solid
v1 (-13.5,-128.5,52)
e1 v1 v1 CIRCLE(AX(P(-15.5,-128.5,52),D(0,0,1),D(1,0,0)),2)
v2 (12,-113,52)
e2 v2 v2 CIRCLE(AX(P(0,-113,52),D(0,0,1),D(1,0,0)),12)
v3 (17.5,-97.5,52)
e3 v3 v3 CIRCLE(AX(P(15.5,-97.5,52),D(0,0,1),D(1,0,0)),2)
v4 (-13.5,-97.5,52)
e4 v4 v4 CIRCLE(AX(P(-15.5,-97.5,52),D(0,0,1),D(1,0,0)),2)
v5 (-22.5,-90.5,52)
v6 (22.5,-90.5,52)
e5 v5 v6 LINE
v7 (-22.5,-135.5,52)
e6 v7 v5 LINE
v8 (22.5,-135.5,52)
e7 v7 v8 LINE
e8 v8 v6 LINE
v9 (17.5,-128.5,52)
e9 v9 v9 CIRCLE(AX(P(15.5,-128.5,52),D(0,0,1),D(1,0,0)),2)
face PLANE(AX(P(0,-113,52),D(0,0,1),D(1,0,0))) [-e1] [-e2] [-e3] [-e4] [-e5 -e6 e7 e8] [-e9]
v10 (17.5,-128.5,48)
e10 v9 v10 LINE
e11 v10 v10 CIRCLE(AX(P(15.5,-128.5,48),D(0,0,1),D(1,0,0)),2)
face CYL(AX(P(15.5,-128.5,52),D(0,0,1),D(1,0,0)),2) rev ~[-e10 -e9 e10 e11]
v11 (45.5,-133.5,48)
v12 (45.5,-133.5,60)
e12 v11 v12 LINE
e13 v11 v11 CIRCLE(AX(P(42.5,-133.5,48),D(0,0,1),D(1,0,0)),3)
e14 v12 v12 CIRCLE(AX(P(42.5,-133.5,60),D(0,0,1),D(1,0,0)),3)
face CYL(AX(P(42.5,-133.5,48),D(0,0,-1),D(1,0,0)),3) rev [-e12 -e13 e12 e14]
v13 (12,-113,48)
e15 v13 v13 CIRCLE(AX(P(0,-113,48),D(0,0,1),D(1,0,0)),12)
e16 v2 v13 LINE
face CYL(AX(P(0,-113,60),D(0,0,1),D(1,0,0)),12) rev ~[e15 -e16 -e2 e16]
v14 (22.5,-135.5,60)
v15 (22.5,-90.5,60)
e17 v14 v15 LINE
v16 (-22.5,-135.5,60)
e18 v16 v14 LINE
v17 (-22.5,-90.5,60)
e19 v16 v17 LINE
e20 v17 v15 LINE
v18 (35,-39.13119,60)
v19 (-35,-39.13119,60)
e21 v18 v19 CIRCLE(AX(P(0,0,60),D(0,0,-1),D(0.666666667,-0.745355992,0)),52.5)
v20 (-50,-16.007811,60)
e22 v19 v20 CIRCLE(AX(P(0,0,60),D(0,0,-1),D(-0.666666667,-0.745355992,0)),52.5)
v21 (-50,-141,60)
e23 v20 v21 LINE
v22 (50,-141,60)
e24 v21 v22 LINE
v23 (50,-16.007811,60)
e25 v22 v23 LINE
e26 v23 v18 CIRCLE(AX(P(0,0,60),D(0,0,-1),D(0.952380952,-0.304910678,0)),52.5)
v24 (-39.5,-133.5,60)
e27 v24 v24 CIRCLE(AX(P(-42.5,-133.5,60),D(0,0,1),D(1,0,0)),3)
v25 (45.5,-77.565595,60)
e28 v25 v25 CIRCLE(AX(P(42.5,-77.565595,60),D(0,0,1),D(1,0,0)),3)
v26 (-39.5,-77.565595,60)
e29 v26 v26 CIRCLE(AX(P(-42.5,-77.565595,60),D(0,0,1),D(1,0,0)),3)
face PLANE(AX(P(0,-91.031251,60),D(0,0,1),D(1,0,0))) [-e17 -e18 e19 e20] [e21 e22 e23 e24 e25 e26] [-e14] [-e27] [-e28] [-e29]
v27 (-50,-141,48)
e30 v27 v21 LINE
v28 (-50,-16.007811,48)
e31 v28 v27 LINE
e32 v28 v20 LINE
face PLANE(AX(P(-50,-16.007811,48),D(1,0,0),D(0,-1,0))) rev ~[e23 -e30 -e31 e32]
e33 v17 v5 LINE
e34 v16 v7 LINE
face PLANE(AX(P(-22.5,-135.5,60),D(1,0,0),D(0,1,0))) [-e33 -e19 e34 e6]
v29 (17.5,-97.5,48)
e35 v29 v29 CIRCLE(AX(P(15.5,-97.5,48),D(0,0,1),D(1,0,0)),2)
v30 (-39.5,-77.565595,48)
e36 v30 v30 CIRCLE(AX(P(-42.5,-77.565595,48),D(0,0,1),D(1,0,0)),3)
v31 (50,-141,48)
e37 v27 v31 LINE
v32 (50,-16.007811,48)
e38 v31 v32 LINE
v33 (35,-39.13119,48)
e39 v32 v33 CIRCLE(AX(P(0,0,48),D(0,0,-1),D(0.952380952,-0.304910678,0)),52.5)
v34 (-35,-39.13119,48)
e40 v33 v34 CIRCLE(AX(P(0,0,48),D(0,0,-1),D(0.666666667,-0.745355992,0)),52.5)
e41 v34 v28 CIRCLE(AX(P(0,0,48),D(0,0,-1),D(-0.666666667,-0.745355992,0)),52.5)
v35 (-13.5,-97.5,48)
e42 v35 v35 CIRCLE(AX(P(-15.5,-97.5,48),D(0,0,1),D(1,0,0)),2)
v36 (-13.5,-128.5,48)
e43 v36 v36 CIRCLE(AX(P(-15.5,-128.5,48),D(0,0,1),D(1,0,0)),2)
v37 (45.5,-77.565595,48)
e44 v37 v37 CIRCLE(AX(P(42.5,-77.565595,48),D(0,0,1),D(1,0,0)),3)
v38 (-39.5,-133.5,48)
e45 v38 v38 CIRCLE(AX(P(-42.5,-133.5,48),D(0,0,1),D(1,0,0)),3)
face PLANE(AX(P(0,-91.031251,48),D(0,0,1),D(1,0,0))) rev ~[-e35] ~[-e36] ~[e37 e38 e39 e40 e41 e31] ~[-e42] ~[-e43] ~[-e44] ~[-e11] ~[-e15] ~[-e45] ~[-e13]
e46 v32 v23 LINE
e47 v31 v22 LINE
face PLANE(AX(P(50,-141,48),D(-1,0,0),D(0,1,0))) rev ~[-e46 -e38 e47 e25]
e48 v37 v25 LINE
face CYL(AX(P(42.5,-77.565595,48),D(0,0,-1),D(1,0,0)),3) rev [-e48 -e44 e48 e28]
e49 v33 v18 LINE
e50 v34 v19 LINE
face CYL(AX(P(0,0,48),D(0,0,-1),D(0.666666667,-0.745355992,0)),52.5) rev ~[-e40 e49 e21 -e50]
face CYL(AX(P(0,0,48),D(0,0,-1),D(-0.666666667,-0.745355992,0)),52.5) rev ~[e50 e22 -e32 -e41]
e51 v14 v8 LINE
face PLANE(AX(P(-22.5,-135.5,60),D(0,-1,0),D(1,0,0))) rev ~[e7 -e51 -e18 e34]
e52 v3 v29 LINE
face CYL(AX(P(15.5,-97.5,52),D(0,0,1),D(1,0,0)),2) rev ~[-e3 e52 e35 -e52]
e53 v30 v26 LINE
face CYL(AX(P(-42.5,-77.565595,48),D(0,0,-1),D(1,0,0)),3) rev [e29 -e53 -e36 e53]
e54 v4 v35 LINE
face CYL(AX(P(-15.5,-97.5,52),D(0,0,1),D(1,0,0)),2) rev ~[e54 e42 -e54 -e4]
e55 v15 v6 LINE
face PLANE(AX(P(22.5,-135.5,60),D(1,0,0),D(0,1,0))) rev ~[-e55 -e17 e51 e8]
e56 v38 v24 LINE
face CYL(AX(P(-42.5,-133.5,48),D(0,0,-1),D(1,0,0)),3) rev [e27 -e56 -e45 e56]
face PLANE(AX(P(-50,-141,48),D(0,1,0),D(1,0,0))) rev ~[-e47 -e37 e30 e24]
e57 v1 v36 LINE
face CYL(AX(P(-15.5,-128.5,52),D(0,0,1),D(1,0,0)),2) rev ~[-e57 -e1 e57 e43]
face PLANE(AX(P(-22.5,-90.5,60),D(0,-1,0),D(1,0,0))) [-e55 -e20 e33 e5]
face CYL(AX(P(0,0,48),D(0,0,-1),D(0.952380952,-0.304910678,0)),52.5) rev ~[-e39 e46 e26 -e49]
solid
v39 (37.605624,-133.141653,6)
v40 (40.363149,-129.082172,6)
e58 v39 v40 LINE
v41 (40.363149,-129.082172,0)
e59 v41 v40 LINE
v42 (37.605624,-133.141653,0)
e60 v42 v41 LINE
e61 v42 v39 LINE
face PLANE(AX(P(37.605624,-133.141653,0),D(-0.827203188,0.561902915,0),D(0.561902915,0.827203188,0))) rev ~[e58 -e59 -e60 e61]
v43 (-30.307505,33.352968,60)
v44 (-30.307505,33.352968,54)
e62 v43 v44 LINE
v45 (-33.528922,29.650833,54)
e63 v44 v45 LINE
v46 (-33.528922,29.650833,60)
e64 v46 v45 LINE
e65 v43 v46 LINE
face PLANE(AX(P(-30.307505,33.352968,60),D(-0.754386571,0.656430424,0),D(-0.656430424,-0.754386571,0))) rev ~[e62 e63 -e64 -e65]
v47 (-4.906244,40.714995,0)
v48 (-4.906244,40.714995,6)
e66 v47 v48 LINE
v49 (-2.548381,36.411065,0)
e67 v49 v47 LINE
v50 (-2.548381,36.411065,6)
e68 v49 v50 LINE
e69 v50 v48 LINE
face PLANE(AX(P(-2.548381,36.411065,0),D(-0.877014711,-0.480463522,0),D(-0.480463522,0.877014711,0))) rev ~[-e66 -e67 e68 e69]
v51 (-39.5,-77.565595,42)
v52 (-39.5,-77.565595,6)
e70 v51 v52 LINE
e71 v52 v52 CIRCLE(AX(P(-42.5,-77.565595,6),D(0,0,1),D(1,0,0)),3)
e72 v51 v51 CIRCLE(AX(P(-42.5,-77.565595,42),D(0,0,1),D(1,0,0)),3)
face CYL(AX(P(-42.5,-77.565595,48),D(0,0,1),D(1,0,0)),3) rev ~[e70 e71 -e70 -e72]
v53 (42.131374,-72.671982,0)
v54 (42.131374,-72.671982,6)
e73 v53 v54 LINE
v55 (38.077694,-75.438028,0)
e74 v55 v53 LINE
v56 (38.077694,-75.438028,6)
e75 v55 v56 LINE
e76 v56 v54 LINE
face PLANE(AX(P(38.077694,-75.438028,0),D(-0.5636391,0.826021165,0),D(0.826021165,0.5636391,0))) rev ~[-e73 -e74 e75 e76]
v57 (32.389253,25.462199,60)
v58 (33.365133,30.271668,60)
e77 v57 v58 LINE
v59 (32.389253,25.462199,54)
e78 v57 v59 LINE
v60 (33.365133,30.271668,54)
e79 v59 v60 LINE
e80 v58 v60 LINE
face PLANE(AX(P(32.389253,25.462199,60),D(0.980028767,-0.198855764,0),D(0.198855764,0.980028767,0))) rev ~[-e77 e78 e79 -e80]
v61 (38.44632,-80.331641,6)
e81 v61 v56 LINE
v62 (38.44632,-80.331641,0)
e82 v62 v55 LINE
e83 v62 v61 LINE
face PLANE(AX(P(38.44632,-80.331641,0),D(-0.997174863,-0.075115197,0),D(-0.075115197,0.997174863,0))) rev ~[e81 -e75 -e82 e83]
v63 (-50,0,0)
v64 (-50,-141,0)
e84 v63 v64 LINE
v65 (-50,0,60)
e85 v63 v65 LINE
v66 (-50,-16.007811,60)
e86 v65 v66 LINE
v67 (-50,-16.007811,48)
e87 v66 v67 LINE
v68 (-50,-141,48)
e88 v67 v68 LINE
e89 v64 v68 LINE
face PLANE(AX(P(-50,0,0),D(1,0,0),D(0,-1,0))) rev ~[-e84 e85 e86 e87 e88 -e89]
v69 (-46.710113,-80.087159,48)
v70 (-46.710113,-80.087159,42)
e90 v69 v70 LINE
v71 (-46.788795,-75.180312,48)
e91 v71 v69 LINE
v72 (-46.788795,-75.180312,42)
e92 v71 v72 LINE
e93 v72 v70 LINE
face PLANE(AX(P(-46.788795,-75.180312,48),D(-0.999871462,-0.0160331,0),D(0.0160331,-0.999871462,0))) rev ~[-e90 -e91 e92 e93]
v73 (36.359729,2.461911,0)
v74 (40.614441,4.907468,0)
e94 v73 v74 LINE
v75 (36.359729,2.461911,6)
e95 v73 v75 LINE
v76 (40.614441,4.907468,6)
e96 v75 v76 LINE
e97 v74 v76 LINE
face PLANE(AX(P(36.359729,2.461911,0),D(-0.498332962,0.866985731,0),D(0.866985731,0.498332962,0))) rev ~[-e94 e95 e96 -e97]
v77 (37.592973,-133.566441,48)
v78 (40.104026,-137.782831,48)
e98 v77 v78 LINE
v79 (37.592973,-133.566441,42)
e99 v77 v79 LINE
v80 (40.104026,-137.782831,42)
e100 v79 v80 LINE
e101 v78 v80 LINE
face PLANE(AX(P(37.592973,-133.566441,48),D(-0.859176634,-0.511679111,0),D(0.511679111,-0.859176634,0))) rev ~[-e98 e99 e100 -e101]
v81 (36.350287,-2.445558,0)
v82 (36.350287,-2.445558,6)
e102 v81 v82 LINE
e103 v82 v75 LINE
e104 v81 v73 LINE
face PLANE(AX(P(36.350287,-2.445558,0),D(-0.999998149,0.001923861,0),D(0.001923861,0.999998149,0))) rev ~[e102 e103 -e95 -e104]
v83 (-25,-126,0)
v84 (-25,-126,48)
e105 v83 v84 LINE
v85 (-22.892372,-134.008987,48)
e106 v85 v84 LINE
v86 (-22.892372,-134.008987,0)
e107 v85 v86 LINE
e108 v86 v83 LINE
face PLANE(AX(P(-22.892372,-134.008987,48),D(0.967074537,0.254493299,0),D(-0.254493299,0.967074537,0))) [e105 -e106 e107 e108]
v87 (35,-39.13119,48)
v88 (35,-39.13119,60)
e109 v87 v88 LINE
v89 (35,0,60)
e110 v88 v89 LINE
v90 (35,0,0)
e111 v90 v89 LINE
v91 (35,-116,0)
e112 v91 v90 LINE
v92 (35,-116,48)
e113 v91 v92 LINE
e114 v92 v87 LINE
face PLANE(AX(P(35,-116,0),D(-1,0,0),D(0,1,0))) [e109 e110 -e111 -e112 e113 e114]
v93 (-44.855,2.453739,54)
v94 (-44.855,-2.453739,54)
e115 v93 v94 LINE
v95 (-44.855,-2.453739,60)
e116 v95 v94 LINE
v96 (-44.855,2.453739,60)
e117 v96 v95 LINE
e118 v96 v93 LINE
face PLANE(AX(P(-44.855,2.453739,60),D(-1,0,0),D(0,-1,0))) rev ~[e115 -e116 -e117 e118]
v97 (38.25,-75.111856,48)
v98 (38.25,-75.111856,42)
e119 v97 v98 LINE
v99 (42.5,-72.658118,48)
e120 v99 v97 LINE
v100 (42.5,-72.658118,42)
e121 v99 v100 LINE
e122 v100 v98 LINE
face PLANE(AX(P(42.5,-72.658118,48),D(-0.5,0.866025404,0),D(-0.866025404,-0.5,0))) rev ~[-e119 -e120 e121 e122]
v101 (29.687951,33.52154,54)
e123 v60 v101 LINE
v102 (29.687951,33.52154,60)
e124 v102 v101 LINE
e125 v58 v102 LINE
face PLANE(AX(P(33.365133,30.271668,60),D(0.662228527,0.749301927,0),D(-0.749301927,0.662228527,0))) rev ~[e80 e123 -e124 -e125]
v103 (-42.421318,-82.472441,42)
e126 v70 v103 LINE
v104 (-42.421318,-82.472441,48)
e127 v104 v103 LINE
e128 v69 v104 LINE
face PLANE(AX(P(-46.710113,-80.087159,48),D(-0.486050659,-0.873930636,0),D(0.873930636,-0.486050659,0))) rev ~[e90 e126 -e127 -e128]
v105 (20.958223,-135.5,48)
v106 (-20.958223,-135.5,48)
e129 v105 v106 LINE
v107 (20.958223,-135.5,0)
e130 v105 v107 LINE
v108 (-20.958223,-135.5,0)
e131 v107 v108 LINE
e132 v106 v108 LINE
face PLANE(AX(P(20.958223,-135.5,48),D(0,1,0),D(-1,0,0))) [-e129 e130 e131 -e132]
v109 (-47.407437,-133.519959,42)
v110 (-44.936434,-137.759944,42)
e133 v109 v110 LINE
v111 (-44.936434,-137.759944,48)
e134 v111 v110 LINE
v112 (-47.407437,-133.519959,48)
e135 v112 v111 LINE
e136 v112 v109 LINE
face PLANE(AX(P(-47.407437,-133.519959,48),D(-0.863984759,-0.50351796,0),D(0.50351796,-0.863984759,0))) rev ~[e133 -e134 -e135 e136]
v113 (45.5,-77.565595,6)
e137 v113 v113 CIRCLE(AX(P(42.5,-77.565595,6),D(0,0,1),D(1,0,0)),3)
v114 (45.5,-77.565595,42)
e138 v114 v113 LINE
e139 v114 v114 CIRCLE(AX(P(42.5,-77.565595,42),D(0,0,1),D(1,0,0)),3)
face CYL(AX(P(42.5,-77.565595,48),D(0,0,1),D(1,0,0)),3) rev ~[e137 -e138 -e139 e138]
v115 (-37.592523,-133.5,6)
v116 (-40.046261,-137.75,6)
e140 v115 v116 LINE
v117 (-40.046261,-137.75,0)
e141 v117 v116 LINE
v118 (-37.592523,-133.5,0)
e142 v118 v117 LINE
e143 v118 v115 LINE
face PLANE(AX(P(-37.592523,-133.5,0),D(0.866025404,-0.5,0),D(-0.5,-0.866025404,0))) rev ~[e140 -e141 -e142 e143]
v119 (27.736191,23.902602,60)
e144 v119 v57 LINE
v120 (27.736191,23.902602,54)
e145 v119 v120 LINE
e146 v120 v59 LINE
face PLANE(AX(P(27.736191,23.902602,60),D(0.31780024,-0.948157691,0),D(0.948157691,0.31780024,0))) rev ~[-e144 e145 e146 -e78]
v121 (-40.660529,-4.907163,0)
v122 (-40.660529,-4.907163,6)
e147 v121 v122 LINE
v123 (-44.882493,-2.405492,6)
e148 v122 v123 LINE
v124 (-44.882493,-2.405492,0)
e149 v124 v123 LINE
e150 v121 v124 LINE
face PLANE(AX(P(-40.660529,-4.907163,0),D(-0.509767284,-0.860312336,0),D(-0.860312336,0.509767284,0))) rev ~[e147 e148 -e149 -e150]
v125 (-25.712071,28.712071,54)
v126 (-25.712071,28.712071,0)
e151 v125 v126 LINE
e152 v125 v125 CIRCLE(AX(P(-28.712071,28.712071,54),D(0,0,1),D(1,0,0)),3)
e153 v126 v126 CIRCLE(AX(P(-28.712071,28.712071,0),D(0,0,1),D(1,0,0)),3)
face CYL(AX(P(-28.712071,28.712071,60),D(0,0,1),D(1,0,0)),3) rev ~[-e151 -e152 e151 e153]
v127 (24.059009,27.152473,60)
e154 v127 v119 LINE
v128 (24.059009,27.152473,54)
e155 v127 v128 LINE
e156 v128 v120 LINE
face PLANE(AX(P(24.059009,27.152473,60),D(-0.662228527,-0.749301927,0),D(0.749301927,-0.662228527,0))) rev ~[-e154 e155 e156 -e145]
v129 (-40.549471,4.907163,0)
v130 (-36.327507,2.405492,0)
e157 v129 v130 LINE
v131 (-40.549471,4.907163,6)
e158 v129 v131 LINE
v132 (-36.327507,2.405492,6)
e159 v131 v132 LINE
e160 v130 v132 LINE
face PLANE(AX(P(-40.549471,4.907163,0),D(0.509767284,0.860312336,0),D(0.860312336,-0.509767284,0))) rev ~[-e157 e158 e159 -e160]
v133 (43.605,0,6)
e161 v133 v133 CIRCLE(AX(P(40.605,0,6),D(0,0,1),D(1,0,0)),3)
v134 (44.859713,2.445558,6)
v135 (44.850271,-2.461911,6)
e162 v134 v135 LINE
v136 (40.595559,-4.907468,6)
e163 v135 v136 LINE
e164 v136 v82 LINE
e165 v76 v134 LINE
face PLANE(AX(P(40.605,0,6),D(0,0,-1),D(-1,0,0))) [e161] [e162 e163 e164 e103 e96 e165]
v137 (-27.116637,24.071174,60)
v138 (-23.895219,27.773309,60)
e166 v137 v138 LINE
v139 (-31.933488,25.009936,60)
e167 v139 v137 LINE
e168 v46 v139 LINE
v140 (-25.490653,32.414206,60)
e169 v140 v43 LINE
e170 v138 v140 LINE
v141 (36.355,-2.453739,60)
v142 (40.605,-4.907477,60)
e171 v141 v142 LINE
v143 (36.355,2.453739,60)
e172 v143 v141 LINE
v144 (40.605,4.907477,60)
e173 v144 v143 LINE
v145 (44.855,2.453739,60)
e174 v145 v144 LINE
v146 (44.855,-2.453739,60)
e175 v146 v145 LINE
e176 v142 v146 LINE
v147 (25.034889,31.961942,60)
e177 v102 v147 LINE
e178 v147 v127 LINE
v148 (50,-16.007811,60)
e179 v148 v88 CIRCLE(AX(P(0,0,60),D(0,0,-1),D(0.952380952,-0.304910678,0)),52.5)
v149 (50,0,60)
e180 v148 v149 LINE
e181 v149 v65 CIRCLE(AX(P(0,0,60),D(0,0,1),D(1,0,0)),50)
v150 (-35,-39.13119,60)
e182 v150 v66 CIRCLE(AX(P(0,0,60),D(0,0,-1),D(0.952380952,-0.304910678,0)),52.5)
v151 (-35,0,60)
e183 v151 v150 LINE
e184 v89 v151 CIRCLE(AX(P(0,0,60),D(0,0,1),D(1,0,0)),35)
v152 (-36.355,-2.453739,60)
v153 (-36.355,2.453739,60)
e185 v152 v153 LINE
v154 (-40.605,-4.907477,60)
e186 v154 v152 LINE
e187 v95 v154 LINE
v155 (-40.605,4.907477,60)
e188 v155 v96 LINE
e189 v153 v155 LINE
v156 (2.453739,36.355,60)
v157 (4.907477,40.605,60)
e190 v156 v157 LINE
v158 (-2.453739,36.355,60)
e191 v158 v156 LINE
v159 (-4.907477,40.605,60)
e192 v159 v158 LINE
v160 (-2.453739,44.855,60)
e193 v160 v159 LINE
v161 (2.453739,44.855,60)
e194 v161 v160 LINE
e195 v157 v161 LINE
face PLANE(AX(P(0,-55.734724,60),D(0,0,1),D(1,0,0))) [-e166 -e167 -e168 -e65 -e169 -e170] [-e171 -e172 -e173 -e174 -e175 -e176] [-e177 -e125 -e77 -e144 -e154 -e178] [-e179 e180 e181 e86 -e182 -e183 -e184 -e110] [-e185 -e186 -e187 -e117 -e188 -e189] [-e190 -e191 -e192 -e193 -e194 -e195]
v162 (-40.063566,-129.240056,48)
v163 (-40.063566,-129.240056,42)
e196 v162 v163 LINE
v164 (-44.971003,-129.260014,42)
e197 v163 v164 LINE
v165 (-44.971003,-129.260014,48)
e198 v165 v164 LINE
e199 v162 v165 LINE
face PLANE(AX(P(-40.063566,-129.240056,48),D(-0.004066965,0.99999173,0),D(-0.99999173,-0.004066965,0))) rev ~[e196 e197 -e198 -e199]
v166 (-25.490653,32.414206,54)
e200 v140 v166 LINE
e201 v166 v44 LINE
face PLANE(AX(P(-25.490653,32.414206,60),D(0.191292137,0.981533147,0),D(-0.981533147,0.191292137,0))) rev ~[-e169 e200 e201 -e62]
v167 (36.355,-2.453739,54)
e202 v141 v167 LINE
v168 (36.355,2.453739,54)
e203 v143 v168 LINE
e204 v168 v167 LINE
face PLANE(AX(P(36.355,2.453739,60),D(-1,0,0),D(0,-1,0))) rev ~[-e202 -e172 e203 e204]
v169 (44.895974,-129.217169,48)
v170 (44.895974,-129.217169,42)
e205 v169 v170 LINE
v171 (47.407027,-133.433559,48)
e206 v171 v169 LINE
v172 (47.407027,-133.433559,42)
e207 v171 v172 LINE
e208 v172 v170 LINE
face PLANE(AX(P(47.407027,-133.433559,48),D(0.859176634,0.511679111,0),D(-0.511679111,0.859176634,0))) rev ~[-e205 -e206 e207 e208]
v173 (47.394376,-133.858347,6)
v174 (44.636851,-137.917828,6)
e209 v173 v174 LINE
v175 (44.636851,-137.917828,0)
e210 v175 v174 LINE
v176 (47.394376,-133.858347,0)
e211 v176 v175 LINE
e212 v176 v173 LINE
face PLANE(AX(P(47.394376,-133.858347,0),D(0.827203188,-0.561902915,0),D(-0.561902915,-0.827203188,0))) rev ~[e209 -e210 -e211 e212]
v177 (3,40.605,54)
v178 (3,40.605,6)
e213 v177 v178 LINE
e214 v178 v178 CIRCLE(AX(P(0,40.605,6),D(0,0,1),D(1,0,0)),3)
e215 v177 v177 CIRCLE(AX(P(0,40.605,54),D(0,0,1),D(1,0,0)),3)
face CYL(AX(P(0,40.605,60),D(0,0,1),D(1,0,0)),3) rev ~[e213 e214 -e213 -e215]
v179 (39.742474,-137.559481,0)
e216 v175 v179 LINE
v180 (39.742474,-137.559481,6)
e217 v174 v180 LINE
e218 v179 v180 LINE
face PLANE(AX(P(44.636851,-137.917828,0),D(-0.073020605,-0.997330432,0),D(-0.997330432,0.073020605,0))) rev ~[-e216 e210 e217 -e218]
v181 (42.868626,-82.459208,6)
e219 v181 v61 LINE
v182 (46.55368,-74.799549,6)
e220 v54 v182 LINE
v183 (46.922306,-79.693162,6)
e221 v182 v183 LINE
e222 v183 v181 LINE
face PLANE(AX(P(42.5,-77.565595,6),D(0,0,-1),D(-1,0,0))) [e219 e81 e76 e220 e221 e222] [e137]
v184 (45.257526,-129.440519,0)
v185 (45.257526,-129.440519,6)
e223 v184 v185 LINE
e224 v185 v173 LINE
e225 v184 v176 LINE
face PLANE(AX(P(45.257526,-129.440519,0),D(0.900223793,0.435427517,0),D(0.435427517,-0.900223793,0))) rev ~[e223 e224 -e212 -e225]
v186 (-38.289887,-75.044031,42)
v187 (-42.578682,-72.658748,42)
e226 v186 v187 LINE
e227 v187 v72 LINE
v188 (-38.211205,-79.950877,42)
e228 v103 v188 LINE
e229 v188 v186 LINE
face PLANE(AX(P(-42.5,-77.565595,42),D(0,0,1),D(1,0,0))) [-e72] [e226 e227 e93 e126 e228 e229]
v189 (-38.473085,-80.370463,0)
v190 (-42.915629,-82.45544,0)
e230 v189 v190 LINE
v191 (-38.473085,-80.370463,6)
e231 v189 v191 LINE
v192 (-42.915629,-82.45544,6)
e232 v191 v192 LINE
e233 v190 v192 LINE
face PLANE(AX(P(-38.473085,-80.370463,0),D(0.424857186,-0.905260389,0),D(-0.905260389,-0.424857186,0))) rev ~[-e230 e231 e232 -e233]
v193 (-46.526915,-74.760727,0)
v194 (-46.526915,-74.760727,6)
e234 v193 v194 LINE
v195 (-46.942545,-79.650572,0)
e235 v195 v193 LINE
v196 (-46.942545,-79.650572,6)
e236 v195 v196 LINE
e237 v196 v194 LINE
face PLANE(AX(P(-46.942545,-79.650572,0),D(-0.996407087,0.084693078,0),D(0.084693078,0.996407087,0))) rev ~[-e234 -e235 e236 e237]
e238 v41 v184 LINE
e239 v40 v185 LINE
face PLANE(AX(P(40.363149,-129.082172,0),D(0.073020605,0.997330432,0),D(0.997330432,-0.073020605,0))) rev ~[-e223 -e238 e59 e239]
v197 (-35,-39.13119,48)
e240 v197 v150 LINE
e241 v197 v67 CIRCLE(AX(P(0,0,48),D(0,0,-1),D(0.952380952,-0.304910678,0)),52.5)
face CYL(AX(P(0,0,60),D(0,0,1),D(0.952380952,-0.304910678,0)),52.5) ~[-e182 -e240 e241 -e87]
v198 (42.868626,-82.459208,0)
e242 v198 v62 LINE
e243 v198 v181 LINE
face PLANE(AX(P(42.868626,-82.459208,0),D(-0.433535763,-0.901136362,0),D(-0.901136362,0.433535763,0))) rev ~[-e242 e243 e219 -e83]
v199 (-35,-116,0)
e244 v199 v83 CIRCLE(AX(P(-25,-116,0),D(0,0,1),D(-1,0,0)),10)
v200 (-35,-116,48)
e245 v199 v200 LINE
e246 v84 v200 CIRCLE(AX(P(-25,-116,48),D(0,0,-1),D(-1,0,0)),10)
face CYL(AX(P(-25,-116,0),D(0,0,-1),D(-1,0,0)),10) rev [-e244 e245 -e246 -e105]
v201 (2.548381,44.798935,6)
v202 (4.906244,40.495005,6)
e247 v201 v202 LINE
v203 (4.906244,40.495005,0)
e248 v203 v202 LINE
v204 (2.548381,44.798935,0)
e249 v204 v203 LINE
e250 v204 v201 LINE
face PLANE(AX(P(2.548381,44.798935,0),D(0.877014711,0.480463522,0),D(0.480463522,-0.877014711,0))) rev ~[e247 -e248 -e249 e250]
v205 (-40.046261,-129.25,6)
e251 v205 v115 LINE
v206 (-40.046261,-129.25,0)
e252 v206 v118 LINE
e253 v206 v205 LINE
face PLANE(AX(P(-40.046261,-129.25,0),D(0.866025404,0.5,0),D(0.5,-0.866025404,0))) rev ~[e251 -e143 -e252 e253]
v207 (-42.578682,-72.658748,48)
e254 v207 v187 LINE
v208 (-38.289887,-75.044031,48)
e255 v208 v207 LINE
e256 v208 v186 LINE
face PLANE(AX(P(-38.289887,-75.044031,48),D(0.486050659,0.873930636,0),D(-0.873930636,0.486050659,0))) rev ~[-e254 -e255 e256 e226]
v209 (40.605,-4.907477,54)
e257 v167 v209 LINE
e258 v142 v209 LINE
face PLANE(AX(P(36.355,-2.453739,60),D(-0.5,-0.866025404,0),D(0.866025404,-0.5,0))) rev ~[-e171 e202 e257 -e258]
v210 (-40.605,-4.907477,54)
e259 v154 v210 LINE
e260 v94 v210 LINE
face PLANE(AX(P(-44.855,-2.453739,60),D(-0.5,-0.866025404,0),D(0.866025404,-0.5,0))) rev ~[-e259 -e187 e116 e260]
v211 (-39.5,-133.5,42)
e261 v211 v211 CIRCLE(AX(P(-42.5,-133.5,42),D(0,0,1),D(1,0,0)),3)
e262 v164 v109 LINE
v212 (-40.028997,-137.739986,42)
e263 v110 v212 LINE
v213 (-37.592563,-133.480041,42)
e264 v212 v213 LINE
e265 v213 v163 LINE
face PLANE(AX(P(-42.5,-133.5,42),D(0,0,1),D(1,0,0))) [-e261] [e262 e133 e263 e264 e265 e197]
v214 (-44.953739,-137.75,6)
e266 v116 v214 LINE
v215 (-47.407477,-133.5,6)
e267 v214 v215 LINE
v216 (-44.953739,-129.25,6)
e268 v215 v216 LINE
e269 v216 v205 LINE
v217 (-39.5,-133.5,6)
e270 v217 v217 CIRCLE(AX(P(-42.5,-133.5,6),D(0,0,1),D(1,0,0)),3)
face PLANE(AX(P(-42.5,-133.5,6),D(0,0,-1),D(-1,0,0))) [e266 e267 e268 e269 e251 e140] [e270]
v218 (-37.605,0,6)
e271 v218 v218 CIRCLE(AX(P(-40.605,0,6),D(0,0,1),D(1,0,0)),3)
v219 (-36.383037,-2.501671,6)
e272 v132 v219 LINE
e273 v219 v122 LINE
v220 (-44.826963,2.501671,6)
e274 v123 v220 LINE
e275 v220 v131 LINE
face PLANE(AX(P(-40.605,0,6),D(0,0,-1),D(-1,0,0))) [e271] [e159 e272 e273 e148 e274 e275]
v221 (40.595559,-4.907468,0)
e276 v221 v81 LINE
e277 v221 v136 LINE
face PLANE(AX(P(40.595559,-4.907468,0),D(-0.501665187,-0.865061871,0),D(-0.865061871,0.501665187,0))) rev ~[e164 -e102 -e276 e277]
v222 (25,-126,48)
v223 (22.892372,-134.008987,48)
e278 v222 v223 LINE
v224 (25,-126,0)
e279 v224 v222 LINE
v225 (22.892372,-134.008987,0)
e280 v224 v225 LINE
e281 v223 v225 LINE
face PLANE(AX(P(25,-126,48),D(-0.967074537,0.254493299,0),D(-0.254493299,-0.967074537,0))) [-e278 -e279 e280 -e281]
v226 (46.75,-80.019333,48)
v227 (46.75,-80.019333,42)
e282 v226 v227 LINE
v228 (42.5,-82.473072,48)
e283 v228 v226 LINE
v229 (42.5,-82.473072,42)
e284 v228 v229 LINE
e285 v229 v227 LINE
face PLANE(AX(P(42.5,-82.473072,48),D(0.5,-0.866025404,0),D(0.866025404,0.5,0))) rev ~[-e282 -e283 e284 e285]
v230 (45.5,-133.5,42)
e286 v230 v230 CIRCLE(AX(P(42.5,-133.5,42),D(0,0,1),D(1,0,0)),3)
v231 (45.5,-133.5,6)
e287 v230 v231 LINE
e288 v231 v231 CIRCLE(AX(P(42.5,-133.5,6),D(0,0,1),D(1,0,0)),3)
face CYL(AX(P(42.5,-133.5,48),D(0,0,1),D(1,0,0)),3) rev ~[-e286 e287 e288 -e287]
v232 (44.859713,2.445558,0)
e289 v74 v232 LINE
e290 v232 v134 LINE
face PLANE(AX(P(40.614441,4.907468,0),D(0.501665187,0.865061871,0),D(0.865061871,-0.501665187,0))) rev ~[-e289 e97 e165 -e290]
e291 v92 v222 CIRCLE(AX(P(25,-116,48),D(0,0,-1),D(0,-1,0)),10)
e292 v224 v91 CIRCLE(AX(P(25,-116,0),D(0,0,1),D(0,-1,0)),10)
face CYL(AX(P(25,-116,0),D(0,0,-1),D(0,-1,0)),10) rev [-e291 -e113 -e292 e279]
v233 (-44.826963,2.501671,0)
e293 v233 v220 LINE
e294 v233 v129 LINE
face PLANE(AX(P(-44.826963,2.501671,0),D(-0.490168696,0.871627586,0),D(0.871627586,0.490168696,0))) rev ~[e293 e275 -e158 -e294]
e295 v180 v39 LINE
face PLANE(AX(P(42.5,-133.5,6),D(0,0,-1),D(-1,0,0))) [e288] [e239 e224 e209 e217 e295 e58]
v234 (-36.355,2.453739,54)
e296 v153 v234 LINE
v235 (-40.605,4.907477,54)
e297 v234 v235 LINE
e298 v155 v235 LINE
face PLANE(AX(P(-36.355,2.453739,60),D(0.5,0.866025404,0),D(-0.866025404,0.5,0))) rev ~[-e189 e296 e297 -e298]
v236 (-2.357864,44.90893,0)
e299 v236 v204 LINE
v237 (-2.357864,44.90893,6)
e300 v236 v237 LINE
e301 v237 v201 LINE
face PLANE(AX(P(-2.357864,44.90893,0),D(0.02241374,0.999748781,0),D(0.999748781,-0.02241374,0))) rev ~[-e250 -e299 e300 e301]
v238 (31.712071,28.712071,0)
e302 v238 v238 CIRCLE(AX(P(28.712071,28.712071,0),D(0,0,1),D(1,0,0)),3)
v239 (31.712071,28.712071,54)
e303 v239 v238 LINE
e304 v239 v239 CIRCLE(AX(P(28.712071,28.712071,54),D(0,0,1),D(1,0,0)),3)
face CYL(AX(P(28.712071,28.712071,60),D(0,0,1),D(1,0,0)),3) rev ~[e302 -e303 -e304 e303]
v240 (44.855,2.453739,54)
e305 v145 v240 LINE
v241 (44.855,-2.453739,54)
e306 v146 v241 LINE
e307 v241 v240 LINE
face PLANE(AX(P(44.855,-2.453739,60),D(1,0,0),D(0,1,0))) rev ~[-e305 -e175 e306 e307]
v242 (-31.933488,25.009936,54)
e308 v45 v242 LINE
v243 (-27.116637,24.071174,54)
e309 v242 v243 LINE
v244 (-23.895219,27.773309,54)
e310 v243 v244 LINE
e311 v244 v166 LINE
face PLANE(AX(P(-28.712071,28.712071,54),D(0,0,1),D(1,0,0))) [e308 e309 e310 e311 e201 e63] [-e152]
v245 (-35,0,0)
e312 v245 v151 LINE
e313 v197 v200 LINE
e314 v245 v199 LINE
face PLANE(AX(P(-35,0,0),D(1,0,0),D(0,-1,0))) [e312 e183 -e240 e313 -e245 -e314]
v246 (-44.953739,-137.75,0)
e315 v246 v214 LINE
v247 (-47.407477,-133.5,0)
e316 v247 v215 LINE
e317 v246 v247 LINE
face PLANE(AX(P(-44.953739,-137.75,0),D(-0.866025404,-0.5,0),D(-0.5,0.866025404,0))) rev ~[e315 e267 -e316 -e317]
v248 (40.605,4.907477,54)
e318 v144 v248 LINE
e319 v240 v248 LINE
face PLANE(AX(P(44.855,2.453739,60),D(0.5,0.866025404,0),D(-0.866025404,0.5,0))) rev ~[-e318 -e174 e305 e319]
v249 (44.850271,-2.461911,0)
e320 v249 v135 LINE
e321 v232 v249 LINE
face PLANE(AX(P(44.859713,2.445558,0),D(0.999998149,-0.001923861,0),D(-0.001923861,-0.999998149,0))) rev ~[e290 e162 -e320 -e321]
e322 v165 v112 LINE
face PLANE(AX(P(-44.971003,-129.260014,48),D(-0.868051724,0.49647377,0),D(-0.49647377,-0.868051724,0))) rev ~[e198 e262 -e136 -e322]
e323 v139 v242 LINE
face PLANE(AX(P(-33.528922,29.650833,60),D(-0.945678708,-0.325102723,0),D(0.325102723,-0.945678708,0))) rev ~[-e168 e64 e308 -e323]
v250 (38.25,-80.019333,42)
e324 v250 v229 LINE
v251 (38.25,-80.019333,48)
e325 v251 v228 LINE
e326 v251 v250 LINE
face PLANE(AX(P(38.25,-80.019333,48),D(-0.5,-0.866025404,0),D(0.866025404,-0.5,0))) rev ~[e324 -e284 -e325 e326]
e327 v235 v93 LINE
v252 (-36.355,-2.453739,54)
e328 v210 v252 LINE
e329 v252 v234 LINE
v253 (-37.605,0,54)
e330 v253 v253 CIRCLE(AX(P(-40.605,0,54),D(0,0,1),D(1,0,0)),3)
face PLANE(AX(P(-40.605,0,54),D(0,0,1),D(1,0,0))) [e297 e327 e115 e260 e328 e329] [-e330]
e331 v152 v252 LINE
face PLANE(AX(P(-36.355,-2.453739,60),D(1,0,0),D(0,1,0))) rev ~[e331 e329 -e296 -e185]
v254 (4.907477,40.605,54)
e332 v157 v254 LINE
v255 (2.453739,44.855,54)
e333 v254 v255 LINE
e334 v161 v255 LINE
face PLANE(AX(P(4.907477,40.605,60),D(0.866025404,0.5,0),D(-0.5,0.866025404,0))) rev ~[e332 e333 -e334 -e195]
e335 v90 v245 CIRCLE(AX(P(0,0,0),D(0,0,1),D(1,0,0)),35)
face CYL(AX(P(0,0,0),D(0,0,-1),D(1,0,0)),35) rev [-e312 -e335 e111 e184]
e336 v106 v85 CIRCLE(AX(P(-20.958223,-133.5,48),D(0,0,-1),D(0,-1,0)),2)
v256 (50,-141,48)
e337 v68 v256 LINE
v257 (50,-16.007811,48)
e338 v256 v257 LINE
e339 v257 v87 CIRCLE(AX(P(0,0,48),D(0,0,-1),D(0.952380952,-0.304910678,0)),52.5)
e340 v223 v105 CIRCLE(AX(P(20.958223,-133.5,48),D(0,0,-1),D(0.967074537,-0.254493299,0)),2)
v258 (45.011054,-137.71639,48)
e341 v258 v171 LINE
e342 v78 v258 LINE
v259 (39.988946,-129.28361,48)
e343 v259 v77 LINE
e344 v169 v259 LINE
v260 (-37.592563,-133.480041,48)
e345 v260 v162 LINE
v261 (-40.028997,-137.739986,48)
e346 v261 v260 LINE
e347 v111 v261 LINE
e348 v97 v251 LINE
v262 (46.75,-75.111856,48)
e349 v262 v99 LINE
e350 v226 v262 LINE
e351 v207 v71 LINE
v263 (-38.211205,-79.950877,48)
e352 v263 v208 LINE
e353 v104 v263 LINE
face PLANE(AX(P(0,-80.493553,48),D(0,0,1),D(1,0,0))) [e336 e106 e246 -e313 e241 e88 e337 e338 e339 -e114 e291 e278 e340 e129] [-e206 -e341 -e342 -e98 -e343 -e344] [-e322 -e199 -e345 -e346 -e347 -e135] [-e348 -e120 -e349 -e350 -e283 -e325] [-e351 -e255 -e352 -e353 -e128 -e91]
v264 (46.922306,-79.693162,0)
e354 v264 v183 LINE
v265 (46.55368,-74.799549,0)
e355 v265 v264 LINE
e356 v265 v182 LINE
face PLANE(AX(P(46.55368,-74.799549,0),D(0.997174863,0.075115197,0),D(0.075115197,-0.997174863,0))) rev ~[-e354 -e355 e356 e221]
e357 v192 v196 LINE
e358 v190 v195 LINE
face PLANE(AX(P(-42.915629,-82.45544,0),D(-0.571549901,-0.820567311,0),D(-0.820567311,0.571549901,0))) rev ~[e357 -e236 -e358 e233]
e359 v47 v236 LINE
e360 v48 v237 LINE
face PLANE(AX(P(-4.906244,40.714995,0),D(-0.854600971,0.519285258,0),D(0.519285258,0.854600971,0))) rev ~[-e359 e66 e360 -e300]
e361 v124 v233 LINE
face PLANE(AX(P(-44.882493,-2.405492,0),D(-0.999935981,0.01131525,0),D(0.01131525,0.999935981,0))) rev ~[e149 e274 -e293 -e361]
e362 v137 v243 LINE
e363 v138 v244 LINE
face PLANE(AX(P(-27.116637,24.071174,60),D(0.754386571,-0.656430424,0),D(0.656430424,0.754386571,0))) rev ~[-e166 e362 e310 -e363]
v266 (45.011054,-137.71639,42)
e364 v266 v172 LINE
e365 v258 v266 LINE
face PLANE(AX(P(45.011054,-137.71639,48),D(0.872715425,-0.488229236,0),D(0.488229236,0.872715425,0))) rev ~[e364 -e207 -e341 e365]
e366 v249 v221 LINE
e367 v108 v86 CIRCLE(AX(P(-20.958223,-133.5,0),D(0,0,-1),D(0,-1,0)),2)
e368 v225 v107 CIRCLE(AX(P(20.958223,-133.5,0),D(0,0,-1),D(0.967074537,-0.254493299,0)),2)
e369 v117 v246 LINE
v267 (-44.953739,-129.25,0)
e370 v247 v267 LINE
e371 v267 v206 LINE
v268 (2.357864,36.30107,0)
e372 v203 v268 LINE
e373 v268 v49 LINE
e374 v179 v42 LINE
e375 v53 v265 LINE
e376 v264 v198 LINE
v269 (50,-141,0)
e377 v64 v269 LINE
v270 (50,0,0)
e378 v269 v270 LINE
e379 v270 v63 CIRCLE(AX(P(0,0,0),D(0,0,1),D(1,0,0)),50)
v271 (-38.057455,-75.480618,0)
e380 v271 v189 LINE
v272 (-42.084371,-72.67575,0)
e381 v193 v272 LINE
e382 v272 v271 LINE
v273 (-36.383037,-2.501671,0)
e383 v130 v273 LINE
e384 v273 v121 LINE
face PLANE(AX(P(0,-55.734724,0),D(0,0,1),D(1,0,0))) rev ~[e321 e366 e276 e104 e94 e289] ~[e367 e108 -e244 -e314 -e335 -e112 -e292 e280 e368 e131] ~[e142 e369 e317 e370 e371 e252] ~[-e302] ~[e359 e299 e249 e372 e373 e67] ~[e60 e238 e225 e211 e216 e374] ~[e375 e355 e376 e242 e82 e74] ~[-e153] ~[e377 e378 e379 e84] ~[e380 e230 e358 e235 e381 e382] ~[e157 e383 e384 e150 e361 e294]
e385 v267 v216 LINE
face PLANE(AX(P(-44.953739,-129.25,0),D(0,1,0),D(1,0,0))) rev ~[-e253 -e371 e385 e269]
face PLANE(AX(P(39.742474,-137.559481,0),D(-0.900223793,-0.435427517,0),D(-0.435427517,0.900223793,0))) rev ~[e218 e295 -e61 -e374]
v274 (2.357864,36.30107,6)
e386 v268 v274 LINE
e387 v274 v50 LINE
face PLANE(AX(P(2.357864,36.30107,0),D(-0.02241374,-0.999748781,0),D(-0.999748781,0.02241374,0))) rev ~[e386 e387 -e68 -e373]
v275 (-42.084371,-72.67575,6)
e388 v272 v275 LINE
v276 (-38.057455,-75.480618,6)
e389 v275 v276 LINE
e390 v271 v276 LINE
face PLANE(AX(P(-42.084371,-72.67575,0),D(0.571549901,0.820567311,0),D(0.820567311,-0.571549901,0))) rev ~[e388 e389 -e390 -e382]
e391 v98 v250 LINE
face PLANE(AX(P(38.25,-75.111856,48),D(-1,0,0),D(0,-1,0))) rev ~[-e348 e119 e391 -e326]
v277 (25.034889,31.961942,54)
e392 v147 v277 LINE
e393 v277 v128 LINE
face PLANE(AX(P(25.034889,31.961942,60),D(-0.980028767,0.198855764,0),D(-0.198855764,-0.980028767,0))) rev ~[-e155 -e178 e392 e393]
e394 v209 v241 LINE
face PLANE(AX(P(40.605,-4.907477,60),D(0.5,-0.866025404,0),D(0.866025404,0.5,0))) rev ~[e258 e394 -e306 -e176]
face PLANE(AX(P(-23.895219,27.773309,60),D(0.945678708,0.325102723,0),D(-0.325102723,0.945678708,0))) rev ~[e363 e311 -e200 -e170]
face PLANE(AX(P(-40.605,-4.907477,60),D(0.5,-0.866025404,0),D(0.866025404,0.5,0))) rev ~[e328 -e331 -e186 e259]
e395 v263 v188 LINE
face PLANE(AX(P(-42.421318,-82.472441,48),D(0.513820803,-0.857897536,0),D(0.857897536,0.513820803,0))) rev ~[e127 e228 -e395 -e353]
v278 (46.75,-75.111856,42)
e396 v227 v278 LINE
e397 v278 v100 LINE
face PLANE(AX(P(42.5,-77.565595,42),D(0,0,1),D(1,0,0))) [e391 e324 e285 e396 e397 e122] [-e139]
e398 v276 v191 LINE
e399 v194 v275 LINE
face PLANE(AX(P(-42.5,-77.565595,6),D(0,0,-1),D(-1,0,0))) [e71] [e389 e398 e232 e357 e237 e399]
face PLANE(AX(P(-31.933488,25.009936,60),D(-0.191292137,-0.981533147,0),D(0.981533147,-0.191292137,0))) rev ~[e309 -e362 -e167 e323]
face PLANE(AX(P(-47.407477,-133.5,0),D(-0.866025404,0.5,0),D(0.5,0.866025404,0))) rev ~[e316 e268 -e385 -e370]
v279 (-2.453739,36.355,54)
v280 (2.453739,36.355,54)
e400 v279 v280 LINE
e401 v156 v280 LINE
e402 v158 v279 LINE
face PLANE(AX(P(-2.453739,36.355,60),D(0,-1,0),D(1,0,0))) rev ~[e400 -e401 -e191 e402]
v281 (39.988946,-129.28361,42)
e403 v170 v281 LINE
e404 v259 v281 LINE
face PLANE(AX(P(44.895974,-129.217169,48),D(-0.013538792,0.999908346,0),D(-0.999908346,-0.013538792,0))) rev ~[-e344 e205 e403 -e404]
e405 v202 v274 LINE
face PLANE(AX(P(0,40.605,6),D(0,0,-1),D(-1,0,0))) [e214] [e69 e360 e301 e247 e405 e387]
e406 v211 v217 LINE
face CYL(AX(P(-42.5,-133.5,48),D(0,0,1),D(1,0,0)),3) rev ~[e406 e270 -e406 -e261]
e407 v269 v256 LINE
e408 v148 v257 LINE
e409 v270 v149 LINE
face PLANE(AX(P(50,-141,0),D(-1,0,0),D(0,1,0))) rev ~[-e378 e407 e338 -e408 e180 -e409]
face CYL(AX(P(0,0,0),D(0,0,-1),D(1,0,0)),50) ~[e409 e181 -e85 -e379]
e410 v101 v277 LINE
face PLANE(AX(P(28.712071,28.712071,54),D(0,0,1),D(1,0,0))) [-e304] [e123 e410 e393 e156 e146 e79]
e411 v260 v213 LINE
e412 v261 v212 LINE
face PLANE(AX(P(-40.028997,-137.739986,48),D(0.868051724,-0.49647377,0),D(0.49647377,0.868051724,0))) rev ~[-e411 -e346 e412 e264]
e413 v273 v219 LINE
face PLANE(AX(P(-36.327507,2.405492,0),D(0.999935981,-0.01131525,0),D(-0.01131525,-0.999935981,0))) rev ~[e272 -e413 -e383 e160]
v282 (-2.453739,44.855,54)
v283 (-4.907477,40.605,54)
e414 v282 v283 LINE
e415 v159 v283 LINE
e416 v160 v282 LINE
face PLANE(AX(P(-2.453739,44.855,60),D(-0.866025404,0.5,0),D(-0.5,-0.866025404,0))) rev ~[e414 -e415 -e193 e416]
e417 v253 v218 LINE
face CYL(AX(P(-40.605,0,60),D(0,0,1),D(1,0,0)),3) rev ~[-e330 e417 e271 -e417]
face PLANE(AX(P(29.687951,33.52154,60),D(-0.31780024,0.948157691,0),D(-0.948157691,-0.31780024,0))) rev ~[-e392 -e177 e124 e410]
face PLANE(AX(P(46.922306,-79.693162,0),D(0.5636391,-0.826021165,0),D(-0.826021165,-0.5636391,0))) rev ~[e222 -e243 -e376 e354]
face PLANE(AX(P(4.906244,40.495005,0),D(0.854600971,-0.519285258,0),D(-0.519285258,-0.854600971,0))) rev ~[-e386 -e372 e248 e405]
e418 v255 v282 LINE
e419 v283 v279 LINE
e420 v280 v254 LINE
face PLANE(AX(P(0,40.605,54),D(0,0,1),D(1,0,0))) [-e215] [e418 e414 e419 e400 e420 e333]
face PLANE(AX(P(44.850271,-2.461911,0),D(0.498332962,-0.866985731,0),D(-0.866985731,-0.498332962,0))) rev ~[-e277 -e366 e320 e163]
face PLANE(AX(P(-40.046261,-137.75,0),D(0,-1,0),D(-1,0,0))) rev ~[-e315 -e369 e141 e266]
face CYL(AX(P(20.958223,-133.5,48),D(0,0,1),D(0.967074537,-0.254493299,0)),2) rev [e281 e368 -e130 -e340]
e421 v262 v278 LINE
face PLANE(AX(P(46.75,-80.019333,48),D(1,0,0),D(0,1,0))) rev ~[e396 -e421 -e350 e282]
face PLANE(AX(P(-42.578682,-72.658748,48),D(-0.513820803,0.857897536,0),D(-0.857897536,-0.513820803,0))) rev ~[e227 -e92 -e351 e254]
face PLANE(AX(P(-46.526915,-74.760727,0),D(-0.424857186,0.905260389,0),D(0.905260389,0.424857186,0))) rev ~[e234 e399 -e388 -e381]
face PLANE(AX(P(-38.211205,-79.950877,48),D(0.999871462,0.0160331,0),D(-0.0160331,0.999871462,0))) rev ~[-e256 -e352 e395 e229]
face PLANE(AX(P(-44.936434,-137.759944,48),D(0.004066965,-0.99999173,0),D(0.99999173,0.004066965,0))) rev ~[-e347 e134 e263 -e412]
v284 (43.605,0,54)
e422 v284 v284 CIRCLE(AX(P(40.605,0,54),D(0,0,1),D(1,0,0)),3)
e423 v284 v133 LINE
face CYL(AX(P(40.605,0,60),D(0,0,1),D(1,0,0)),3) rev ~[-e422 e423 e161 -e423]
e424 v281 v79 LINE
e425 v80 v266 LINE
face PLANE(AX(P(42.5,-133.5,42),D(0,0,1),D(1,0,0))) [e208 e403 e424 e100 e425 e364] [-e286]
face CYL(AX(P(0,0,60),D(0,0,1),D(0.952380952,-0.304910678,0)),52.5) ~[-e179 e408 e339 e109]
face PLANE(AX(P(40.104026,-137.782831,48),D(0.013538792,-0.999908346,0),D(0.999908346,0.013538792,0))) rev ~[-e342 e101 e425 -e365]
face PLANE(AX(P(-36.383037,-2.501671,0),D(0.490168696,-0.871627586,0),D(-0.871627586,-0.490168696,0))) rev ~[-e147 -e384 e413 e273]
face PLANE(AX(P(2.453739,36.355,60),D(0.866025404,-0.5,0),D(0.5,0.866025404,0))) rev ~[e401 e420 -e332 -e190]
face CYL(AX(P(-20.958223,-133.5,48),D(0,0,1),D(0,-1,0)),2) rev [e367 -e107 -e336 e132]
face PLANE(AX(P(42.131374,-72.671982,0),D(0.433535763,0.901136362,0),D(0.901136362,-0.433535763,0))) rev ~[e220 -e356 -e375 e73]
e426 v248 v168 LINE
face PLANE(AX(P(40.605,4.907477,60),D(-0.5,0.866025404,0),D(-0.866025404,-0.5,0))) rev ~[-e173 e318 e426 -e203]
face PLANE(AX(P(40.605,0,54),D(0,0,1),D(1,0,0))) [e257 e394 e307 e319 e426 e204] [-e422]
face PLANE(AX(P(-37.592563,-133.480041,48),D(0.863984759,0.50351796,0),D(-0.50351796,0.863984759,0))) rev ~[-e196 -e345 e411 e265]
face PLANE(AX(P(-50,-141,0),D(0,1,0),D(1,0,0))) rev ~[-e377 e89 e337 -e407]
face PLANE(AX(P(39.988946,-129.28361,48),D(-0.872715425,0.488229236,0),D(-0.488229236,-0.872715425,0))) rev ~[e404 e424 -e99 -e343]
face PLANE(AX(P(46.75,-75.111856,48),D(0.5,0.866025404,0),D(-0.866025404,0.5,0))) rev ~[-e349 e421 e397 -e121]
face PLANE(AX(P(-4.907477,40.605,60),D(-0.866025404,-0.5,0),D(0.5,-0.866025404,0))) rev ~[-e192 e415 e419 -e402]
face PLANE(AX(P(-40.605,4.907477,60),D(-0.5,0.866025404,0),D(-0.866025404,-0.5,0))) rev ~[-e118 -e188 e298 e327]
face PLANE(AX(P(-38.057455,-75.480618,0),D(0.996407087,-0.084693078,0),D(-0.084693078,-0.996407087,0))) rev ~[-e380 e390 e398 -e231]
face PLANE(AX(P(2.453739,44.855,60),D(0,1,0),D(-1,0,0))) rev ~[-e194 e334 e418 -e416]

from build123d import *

# Parameters (mm, degrees)
SALIENTE_EXTRUIR1_DEPTH = 60
CROQUIS2_R              = 3
CORTAR_EXTRUIR1_DEPTH   = 60
CORTAR_EXTRUIR2_DEPTH   = 6
CORTAR_EXTRUIR3_DEPTH   = 12
CROQUIS5_R              = 3
CORTAR_EXTRUIR4_DEPTH   = 48
CORTAR_EXTRUIR5_DEPTH   = 6
CORTAR_EXTRUIR6_DEPTH   = 6
CORTAR_EXTRUIR7_DEPTH   = 48
CROQUIS9_R              = 3
SALIENTE_EXTRUIR2_DEPTH = 12
CROQUIS10_R             = 12
CORTAR_EXTRUIR8_DEPTH   = 12
CROQUIS11_W             = 45
CROQUIS11_H             = 45
CORTAR_EXTRUIR9_DEPTH   = 8
CROQUIS12_R             = 2
CORTAR_EXTRUIR10_DEPTH  = 53


with BuildPart() as part:
    # Croquis1 → Saliente-Extruir1 (new body)
    with BuildSketch(Plane.XY):
        with BuildLine():
            Line((-50, 0), (-50, -141))
            Line((-50, -141), (50, -141))
            Line((50, -141), (50, 0))
            ThreePointArc((50, 0), (0, 50), (-50, 0))
        make_face()
        with BuildLine():
            Line((-35, 0), (-35, -116))
            ThreePointArc((-35, -116), (-32.071067812, -123.071067812), (-25, -126))
            Line((-25, -126), (25, -126))
            ThreePointArc((25, -126), (32.071067812, -123.071067812), (35, -116))
            Line((35, -116), (35, 0))
            ThreePointArc((35, 0), (0, 35), (-35, 0))
        make_face(mode=Mode.SUBTRACT)
    extrude(amount=SALIENTE_EXTRUIR1_DEPTH)

    # Croquis2 → Cortar-Extruir1 (cut)
    with BuildSketch(Plane.XY.offset(60)):
        with Locations((0, 40.605)):
            Circle(CROQUIS2_R)
        with Locations((28.71207085, 28.71207085)):
            Circle(CROQUIS2_R)
        with Locations((40.605, 0)):
            Circle(CROQUIS2_R)
        with Locations((-40.605, 0)):
            Circle(CROQUIS2_R)
        with Locations((-28.71207085, 28.71207085)):
            Circle(CROQUIS2_R)
    extrude(amount=-CORTAR_EXTRUIR1_DEPTH, mode=Mode.SUBTRACT)

    # Croquis3 → Cortar-Extruir2 (cut)
    with BuildSketch(Plane.XY.offset(60)):
        Polygon((4.907477288, 40.605), (2.453738644, 44.855), (-2.453738644, 44.855), (-4.907477288, 40.605), (-2.453738644, 36.355), (2.453738644, 36.355), align=None)
        Polygon((33.365133185, 30.271668311), (29.687950997, 33.521539768), (25.034888662, 31.961942307), (24.059008515, 27.152473389), (27.736190704, 23.902601932), (32.389253039, 25.462199393), align=None)
        Polygon((40.605, -4.907477288), (44.855, -2.453738644), (44.855, 2.453738644), (40.605, 4.907477288), (36.355, 2.453738644), (36.355, -2.453738644), align=None)
        Polygon((-33.528922476, 29.650832668), (-31.933488245, 25.009935885), (-27.11663662, 24.071174067), (-23.895219225, 27.773309032), (-25.490653455, 32.414205815), (-30.30750508, 33.352967633), align=None)
        Polygon((-40.605, 4.907477288), (-44.855, 2.453738644), (-44.855, -2.453738644), (-40.605, -4.907477288), (-36.355, -2.453738644), (-36.355, 2.453738644), align=None)
    extrude(amount=-CORTAR_EXTRUIR2_DEPTH, mode=Mode.SUBTRACT)

    # Croquis4 → Cortar-Extruir3 (cut)
    with BuildSketch(Plane.XY.offset(60)):
        with BuildLine():
            Line((-50, -16.007810594), (-50, -141))
            Line((-50, -141), (50, -141))
            Line((50, -141), (50, -16.007810594))
            ThreePointArc((50, -16.007810594), (0, -52.5), (-50, -16.007810594))
        make_face()
    extrude(amount=-CORTAR_EXTRUIR3_DEPTH, mode=Mode.SUBTRACT)

    # Croquis5 → Cortar-Extruir4 (cut)
    with BuildSketch(Plane.XY.offset(48)):
        with Locations((-42.5, -77.565594803)):
            Circle(CROQUIS5_R)
        with Locations((-42.5, -133.5)):
            Circle(CROQUIS5_R)
        with Locations((42.5, -77.565594803)):
            Circle(CROQUIS5_R)
        with Locations((42.5, -133.5)):
            Circle(CROQUIS5_R)
    extrude(amount=-CORTAR_EXTRUIR4_DEPTH, mode=Mode.SUBTRACT)

    # Croquis6 → Cortar-Extruir5 (cut)
    with BuildSketch(Plane.XY.offset(48)):
        Polygon((-42.421317924, -82.472441292), (-38.21120525, -79.950877371), (-38.289887326, -75.044030882), (-42.578682076, -72.658748314), (-46.78879475, -75.180312235), (-46.710112674, -80.087158724), align=None)
        Polygon((42.5, -82.473072091), (46.75, -80.019333447), (46.75, -75.111856159), (42.5, -72.658117515), (38.25, -75.111856159), (38.25, -80.019333447), align=None)
        Polygon((-40.063566251, -129.240055878), (-44.971002953, -129.260014418), (-47.407436703, -133.519958539), (-44.936433749, -137.759944122), (-40.028997047, -137.739985582), (-37.592563297, -133.480041461), align=None)
        Polygon((44.895973885, -129.217168871), (39.988946385, -129.283610185), (37.5929725, -133.566441313), (40.104026115, -137.782831129), (45.011053615, -137.716389815), (47.4070275, -133.433558687), align=None)
    extrude(amount=-CORTAR_EXTRUIR5_DEPTH, mode=Mode.SUBTRACT)

    # Croquis7 → Cortar-Extruir6 (cut)
    with BuildSketch(Plane(origin=(0, 0, 0), x_dir=(-1, 0, 0), z_dir=(0, 0, -1))):
        Polygon((2.357863822, 44.908929778), (-2.548380612, 44.798934857), (-4.906244434, 40.49500508), (-2.357863822, 36.301070222), (2.548380612, 36.411065143), (4.906244434, 40.71499492), align=None)
        Polygon((-40.614441302, 4.907468206), (-44.859712786, 2.445557696), (-44.850271484, -2.461910511), (-40.595558698, -4.907468206), (-36.350287214, -2.445557696), (-36.359728516, 2.461910511), align=None)
        Polygon((44.882492584, -2.405491744), (44.826963251, 2.50167137), (40.549470667, 4.907163114), (36.327507416, 2.405491744), (36.383036749, -2.50167137), (40.660529333, -4.907163114), align=None)
        Polygon((-42.131373877, -72.671981811), (-46.553680106, -74.79954872), (-46.922306229, -79.693161712), (-42.868626123, -82.459207795), (-38.446319894, -80.331640886), (-38.077693771, -75.438027894), align=None)
        Polygon((42.084370643, -72.675749655), (38.057455203, -75.480617811), (38.47308456, -80.370462959), (42.915629357, -82.455439951), (46.942544797, -79.650571795), (46.52691544, -74.760726647), align=None)
        Polygon((47.407477288, -133.5), (44.953738644, -129.25), (40.046261356, -129.25), (37.592522712, -133.5), (40.046261356, -137.75), (44.953738644, -137.75), align=None)
        Polygon((-44.636850652, -137.917827818), (-39.742474206, -137.559480857), (-37.605623555, -133.14165304), (-40.363149348, -129.082172182), (-45.257525794, -129.440519143), (-47.394376445, -133.85834696), align=None)
    extrude(amount=-CORTAR_EXTRUIR6_DEPTH, mode=Mode.SUBTRACT)

    # Croquis8 → Cortar-Extruir7 (cut)
    with BuildSketch(Plane.XY.offset(48)):
        with BuildLine():
            Line((-22.892371948, -134.008986599), (-25, -126))
            Line((-25, -126), (25, -126))
            Line((25, -126), (22.892371948, -134.008986599))
            ThreePointArc((22.892371948, -134.008986599), (22.17929347, -135.083978093), (20.958222873, -135.5))
            Line((20.958222873, -135.5), (-20.958222873, -135.5))
            ThreePointArc((-20.958222873, -135.5), (-22.17929347, -135.083978093), (-22.892371948, -134.008986599))
        make_face()
    extrude(amount=-CORTAR_EXTRUIR7_DEPTH, mode=Mode.SUBTRACT)


with BuildPart() as body_2:
    # Croquis9 → Saliente-Extruir2 (new body)
    with BuildSketch(Plane.XY.offset(48)):
        with BuildLine():
            ThreePointArc((-20.958222873, -135.5), (-22.17929347, -135.083978093), (-22.892371948, -134.008986599))
            Line((-22.892371948, -134.008986599), (-25, -126))
            ThreePointArc((-25, -126), (-32.071067812, -123.071067812), (-35, -116))
            Line((-35, -116), (-35, -39.131189606))
            ThreePointArc((-35, -39.131189606), (-44.044553173, -28.571442661), (-50, -16.007810594))
            Line((-50, -16.007810594), (-50, -141))
            Line((-50, -141), (50, -141))
            Line((50, -141), (50, -16.007810594))
            ThreePointArc((50, -16.007810594), (44.044553173, -28.571442661), (35, -39.131189606))
            Line((35, -39.131189606), (35, -116))
            ThreePointArc((35, -116), (32.071067812, -123.071067812), (25, -126))
            Line((25, -126), (22.892371948, -134.008986599))
            ThreePointArc((22.892371948, -134.008986599), (22.17929347, -135.083978093), (20.958222873, -135.5))
            Line((20.958222873, -135.5), (-20.958222873, -135.5))
        make_face()
        Polygon((39.988946385, -129.283610185), (44.895973885, -129.217168871), (47.4070275, -133.433558687), (45.011053615, -137.716389815), (40.104026115, -137.782831129), (37.5929725, -133.566441313), align=None, mode=Mode.SUBTRACT)
        Polygon((46.75, -80.019333447), (42.5, -82.473072091), (38.25, -80.019333447), (38.25, -75.111856159), (42.5, -72.658117515), (46.75, -75.111856159), align=None, mode=Mode.SUBTRACT)
        Polygon((-38.21120525, -79.950877371), (-42.421317924, -82.472441292), (-46.710112674, -80.087158724), (-46.78879475, -75.180312235), (-42.578682076, -72.658748314), (-38.289887326, -75.044030882), align=None, mode=Mode.SUBTRACT)
        Polygon((-44.971002953, -129.260014418), (-40.063566251, -129.240055878), (-37.592563297, -133.480041461), (-40.028997047, -137.739985582), (-44.936433749, -137.759944122), (-47.407436703, -133.519958539), align=None, mode=Mode.SUBTRACT)
        Polygon((-42.421317924, -82.472441292), (-46.710112674, -80.087158724), (-46.78879475, -75.180312235), (-42.578682076, -72.658748314), (-38.289887326, -75.044030882), (-38.21120525, -79.950877371), align=None)
        with Locations((-42.5, -77.565594803)):
            Circle(CROQUIS9_R, mode=Mode.SUBTRACT)
        Polygon((-40.063566251, -129.240055878), (-37.592563297, -133.480041461), (-40.028997047, -137.739985582), (-44.936433749, -137.759944122), (-47.407436703, -133.519958539), (-44.971002953, -129.260014418), align=None)
        with Locations((-42.5, -133.5)):
            Circle(CROQUIS9_R, mode=Mode.SUBTRACT)
        Polygon((44.895973885, -129.217168871), (47.4070275, -133.433558687), (45.011053615, -137.716389815), (40.104026115, -137.782831129), (37.5929725, -133.566441313), (39.988946385, -129.283610185), align=None)
        with Locations((42.5, -133.5)):
            Circle(CROQUIS9_R, mode=Mode.SUBTRACT)
        Polygon((42.5, -82.473072091), (38.25, -80.019333447), (38.25, -75.111856159), (42.5, -72.658117515), (46.75, -75.111856159), (46.75, -80.019333447), align=None)
        with Locations((42.5, -77.565594803)):
            Circle(CROQUIS9_R, mode=Mode.SUBTRACT)
        with BuildLine():
            Line((-25, -126), (-22.892371948, -134.008986599))
            ThreePointArc((-22.892371948, -134.008986599), (-22.17929347, -135.083978093), (-20.958222873, -135.5))
            Line((-20.958222873, -135.5), (20.958222873, -135.5))
            ThreePointArc((20.958222873, -135.5), (22.17929347, -135.083978093), (22.892371948, -134.008986599))
            Line((22.892371948, -134.008986599), (25, -126))
            ThreePointArc((25, -126), (32.071067812, -123.071067812), (35, -116))
            Line((35, -116), (35, -39.131189606))
            ThreePointArc((35, -39.131189606), (0, -52.5), (-35, -39.131189606))
            Line((-35, -39.131189606), (-35, -116))
            ThreePointArc((-35, -116), (-32.071067812, -123.071067812), (-25, -126))
        make_face()
    extrude(amount=SALIENTE_EXTRUIR2_DEPTH)

    # Croquis10 → Cortar-Extruir8 (cut)
    with BuildSketch(Plane.XY.offset(60)):
        with Locations((0, -113)):
            Circle(CROQUIS10_R)
    extrude(amount=-CORTAR_EXTRUIR8_DEPTH, mode=Mode.SUBTRACT)

    # Croquis11 → Cortar-Extruir9 (cut)
    with BuildSketch(Plane.XY.offset(60)):
        with Locations((0, -113)):
            Rectangle(CROQUIS11_W, CROQUIS11_H)
    extrude(amount=-CORTAR_EXTRUIR9_DEPTH, mode=Mode.SUBTRACT)

    # Croquis12 → Cortar-Extruir10 (cut, through all)
    with BuildSketch(Plane.XY.offset(52)):
        with Locations((-15.5, -97.5)):
            Circle(CROQUIS12_R)
        with Locations((15.5, -97.5)):
            Circle(CROQUIS12_R)
        with Locations((15.5, -128.5)):
            Circle(CROQUIS12_R)
        with Locations((-15.5, -128.5)):
            Circle(CROQUIS12_R)
    extrude(amount=-CORTAR_EXTRUIR10_DEPTH, mode=Mode.SUBTRACT)


solid = Compound([part.part, body_2.part])
